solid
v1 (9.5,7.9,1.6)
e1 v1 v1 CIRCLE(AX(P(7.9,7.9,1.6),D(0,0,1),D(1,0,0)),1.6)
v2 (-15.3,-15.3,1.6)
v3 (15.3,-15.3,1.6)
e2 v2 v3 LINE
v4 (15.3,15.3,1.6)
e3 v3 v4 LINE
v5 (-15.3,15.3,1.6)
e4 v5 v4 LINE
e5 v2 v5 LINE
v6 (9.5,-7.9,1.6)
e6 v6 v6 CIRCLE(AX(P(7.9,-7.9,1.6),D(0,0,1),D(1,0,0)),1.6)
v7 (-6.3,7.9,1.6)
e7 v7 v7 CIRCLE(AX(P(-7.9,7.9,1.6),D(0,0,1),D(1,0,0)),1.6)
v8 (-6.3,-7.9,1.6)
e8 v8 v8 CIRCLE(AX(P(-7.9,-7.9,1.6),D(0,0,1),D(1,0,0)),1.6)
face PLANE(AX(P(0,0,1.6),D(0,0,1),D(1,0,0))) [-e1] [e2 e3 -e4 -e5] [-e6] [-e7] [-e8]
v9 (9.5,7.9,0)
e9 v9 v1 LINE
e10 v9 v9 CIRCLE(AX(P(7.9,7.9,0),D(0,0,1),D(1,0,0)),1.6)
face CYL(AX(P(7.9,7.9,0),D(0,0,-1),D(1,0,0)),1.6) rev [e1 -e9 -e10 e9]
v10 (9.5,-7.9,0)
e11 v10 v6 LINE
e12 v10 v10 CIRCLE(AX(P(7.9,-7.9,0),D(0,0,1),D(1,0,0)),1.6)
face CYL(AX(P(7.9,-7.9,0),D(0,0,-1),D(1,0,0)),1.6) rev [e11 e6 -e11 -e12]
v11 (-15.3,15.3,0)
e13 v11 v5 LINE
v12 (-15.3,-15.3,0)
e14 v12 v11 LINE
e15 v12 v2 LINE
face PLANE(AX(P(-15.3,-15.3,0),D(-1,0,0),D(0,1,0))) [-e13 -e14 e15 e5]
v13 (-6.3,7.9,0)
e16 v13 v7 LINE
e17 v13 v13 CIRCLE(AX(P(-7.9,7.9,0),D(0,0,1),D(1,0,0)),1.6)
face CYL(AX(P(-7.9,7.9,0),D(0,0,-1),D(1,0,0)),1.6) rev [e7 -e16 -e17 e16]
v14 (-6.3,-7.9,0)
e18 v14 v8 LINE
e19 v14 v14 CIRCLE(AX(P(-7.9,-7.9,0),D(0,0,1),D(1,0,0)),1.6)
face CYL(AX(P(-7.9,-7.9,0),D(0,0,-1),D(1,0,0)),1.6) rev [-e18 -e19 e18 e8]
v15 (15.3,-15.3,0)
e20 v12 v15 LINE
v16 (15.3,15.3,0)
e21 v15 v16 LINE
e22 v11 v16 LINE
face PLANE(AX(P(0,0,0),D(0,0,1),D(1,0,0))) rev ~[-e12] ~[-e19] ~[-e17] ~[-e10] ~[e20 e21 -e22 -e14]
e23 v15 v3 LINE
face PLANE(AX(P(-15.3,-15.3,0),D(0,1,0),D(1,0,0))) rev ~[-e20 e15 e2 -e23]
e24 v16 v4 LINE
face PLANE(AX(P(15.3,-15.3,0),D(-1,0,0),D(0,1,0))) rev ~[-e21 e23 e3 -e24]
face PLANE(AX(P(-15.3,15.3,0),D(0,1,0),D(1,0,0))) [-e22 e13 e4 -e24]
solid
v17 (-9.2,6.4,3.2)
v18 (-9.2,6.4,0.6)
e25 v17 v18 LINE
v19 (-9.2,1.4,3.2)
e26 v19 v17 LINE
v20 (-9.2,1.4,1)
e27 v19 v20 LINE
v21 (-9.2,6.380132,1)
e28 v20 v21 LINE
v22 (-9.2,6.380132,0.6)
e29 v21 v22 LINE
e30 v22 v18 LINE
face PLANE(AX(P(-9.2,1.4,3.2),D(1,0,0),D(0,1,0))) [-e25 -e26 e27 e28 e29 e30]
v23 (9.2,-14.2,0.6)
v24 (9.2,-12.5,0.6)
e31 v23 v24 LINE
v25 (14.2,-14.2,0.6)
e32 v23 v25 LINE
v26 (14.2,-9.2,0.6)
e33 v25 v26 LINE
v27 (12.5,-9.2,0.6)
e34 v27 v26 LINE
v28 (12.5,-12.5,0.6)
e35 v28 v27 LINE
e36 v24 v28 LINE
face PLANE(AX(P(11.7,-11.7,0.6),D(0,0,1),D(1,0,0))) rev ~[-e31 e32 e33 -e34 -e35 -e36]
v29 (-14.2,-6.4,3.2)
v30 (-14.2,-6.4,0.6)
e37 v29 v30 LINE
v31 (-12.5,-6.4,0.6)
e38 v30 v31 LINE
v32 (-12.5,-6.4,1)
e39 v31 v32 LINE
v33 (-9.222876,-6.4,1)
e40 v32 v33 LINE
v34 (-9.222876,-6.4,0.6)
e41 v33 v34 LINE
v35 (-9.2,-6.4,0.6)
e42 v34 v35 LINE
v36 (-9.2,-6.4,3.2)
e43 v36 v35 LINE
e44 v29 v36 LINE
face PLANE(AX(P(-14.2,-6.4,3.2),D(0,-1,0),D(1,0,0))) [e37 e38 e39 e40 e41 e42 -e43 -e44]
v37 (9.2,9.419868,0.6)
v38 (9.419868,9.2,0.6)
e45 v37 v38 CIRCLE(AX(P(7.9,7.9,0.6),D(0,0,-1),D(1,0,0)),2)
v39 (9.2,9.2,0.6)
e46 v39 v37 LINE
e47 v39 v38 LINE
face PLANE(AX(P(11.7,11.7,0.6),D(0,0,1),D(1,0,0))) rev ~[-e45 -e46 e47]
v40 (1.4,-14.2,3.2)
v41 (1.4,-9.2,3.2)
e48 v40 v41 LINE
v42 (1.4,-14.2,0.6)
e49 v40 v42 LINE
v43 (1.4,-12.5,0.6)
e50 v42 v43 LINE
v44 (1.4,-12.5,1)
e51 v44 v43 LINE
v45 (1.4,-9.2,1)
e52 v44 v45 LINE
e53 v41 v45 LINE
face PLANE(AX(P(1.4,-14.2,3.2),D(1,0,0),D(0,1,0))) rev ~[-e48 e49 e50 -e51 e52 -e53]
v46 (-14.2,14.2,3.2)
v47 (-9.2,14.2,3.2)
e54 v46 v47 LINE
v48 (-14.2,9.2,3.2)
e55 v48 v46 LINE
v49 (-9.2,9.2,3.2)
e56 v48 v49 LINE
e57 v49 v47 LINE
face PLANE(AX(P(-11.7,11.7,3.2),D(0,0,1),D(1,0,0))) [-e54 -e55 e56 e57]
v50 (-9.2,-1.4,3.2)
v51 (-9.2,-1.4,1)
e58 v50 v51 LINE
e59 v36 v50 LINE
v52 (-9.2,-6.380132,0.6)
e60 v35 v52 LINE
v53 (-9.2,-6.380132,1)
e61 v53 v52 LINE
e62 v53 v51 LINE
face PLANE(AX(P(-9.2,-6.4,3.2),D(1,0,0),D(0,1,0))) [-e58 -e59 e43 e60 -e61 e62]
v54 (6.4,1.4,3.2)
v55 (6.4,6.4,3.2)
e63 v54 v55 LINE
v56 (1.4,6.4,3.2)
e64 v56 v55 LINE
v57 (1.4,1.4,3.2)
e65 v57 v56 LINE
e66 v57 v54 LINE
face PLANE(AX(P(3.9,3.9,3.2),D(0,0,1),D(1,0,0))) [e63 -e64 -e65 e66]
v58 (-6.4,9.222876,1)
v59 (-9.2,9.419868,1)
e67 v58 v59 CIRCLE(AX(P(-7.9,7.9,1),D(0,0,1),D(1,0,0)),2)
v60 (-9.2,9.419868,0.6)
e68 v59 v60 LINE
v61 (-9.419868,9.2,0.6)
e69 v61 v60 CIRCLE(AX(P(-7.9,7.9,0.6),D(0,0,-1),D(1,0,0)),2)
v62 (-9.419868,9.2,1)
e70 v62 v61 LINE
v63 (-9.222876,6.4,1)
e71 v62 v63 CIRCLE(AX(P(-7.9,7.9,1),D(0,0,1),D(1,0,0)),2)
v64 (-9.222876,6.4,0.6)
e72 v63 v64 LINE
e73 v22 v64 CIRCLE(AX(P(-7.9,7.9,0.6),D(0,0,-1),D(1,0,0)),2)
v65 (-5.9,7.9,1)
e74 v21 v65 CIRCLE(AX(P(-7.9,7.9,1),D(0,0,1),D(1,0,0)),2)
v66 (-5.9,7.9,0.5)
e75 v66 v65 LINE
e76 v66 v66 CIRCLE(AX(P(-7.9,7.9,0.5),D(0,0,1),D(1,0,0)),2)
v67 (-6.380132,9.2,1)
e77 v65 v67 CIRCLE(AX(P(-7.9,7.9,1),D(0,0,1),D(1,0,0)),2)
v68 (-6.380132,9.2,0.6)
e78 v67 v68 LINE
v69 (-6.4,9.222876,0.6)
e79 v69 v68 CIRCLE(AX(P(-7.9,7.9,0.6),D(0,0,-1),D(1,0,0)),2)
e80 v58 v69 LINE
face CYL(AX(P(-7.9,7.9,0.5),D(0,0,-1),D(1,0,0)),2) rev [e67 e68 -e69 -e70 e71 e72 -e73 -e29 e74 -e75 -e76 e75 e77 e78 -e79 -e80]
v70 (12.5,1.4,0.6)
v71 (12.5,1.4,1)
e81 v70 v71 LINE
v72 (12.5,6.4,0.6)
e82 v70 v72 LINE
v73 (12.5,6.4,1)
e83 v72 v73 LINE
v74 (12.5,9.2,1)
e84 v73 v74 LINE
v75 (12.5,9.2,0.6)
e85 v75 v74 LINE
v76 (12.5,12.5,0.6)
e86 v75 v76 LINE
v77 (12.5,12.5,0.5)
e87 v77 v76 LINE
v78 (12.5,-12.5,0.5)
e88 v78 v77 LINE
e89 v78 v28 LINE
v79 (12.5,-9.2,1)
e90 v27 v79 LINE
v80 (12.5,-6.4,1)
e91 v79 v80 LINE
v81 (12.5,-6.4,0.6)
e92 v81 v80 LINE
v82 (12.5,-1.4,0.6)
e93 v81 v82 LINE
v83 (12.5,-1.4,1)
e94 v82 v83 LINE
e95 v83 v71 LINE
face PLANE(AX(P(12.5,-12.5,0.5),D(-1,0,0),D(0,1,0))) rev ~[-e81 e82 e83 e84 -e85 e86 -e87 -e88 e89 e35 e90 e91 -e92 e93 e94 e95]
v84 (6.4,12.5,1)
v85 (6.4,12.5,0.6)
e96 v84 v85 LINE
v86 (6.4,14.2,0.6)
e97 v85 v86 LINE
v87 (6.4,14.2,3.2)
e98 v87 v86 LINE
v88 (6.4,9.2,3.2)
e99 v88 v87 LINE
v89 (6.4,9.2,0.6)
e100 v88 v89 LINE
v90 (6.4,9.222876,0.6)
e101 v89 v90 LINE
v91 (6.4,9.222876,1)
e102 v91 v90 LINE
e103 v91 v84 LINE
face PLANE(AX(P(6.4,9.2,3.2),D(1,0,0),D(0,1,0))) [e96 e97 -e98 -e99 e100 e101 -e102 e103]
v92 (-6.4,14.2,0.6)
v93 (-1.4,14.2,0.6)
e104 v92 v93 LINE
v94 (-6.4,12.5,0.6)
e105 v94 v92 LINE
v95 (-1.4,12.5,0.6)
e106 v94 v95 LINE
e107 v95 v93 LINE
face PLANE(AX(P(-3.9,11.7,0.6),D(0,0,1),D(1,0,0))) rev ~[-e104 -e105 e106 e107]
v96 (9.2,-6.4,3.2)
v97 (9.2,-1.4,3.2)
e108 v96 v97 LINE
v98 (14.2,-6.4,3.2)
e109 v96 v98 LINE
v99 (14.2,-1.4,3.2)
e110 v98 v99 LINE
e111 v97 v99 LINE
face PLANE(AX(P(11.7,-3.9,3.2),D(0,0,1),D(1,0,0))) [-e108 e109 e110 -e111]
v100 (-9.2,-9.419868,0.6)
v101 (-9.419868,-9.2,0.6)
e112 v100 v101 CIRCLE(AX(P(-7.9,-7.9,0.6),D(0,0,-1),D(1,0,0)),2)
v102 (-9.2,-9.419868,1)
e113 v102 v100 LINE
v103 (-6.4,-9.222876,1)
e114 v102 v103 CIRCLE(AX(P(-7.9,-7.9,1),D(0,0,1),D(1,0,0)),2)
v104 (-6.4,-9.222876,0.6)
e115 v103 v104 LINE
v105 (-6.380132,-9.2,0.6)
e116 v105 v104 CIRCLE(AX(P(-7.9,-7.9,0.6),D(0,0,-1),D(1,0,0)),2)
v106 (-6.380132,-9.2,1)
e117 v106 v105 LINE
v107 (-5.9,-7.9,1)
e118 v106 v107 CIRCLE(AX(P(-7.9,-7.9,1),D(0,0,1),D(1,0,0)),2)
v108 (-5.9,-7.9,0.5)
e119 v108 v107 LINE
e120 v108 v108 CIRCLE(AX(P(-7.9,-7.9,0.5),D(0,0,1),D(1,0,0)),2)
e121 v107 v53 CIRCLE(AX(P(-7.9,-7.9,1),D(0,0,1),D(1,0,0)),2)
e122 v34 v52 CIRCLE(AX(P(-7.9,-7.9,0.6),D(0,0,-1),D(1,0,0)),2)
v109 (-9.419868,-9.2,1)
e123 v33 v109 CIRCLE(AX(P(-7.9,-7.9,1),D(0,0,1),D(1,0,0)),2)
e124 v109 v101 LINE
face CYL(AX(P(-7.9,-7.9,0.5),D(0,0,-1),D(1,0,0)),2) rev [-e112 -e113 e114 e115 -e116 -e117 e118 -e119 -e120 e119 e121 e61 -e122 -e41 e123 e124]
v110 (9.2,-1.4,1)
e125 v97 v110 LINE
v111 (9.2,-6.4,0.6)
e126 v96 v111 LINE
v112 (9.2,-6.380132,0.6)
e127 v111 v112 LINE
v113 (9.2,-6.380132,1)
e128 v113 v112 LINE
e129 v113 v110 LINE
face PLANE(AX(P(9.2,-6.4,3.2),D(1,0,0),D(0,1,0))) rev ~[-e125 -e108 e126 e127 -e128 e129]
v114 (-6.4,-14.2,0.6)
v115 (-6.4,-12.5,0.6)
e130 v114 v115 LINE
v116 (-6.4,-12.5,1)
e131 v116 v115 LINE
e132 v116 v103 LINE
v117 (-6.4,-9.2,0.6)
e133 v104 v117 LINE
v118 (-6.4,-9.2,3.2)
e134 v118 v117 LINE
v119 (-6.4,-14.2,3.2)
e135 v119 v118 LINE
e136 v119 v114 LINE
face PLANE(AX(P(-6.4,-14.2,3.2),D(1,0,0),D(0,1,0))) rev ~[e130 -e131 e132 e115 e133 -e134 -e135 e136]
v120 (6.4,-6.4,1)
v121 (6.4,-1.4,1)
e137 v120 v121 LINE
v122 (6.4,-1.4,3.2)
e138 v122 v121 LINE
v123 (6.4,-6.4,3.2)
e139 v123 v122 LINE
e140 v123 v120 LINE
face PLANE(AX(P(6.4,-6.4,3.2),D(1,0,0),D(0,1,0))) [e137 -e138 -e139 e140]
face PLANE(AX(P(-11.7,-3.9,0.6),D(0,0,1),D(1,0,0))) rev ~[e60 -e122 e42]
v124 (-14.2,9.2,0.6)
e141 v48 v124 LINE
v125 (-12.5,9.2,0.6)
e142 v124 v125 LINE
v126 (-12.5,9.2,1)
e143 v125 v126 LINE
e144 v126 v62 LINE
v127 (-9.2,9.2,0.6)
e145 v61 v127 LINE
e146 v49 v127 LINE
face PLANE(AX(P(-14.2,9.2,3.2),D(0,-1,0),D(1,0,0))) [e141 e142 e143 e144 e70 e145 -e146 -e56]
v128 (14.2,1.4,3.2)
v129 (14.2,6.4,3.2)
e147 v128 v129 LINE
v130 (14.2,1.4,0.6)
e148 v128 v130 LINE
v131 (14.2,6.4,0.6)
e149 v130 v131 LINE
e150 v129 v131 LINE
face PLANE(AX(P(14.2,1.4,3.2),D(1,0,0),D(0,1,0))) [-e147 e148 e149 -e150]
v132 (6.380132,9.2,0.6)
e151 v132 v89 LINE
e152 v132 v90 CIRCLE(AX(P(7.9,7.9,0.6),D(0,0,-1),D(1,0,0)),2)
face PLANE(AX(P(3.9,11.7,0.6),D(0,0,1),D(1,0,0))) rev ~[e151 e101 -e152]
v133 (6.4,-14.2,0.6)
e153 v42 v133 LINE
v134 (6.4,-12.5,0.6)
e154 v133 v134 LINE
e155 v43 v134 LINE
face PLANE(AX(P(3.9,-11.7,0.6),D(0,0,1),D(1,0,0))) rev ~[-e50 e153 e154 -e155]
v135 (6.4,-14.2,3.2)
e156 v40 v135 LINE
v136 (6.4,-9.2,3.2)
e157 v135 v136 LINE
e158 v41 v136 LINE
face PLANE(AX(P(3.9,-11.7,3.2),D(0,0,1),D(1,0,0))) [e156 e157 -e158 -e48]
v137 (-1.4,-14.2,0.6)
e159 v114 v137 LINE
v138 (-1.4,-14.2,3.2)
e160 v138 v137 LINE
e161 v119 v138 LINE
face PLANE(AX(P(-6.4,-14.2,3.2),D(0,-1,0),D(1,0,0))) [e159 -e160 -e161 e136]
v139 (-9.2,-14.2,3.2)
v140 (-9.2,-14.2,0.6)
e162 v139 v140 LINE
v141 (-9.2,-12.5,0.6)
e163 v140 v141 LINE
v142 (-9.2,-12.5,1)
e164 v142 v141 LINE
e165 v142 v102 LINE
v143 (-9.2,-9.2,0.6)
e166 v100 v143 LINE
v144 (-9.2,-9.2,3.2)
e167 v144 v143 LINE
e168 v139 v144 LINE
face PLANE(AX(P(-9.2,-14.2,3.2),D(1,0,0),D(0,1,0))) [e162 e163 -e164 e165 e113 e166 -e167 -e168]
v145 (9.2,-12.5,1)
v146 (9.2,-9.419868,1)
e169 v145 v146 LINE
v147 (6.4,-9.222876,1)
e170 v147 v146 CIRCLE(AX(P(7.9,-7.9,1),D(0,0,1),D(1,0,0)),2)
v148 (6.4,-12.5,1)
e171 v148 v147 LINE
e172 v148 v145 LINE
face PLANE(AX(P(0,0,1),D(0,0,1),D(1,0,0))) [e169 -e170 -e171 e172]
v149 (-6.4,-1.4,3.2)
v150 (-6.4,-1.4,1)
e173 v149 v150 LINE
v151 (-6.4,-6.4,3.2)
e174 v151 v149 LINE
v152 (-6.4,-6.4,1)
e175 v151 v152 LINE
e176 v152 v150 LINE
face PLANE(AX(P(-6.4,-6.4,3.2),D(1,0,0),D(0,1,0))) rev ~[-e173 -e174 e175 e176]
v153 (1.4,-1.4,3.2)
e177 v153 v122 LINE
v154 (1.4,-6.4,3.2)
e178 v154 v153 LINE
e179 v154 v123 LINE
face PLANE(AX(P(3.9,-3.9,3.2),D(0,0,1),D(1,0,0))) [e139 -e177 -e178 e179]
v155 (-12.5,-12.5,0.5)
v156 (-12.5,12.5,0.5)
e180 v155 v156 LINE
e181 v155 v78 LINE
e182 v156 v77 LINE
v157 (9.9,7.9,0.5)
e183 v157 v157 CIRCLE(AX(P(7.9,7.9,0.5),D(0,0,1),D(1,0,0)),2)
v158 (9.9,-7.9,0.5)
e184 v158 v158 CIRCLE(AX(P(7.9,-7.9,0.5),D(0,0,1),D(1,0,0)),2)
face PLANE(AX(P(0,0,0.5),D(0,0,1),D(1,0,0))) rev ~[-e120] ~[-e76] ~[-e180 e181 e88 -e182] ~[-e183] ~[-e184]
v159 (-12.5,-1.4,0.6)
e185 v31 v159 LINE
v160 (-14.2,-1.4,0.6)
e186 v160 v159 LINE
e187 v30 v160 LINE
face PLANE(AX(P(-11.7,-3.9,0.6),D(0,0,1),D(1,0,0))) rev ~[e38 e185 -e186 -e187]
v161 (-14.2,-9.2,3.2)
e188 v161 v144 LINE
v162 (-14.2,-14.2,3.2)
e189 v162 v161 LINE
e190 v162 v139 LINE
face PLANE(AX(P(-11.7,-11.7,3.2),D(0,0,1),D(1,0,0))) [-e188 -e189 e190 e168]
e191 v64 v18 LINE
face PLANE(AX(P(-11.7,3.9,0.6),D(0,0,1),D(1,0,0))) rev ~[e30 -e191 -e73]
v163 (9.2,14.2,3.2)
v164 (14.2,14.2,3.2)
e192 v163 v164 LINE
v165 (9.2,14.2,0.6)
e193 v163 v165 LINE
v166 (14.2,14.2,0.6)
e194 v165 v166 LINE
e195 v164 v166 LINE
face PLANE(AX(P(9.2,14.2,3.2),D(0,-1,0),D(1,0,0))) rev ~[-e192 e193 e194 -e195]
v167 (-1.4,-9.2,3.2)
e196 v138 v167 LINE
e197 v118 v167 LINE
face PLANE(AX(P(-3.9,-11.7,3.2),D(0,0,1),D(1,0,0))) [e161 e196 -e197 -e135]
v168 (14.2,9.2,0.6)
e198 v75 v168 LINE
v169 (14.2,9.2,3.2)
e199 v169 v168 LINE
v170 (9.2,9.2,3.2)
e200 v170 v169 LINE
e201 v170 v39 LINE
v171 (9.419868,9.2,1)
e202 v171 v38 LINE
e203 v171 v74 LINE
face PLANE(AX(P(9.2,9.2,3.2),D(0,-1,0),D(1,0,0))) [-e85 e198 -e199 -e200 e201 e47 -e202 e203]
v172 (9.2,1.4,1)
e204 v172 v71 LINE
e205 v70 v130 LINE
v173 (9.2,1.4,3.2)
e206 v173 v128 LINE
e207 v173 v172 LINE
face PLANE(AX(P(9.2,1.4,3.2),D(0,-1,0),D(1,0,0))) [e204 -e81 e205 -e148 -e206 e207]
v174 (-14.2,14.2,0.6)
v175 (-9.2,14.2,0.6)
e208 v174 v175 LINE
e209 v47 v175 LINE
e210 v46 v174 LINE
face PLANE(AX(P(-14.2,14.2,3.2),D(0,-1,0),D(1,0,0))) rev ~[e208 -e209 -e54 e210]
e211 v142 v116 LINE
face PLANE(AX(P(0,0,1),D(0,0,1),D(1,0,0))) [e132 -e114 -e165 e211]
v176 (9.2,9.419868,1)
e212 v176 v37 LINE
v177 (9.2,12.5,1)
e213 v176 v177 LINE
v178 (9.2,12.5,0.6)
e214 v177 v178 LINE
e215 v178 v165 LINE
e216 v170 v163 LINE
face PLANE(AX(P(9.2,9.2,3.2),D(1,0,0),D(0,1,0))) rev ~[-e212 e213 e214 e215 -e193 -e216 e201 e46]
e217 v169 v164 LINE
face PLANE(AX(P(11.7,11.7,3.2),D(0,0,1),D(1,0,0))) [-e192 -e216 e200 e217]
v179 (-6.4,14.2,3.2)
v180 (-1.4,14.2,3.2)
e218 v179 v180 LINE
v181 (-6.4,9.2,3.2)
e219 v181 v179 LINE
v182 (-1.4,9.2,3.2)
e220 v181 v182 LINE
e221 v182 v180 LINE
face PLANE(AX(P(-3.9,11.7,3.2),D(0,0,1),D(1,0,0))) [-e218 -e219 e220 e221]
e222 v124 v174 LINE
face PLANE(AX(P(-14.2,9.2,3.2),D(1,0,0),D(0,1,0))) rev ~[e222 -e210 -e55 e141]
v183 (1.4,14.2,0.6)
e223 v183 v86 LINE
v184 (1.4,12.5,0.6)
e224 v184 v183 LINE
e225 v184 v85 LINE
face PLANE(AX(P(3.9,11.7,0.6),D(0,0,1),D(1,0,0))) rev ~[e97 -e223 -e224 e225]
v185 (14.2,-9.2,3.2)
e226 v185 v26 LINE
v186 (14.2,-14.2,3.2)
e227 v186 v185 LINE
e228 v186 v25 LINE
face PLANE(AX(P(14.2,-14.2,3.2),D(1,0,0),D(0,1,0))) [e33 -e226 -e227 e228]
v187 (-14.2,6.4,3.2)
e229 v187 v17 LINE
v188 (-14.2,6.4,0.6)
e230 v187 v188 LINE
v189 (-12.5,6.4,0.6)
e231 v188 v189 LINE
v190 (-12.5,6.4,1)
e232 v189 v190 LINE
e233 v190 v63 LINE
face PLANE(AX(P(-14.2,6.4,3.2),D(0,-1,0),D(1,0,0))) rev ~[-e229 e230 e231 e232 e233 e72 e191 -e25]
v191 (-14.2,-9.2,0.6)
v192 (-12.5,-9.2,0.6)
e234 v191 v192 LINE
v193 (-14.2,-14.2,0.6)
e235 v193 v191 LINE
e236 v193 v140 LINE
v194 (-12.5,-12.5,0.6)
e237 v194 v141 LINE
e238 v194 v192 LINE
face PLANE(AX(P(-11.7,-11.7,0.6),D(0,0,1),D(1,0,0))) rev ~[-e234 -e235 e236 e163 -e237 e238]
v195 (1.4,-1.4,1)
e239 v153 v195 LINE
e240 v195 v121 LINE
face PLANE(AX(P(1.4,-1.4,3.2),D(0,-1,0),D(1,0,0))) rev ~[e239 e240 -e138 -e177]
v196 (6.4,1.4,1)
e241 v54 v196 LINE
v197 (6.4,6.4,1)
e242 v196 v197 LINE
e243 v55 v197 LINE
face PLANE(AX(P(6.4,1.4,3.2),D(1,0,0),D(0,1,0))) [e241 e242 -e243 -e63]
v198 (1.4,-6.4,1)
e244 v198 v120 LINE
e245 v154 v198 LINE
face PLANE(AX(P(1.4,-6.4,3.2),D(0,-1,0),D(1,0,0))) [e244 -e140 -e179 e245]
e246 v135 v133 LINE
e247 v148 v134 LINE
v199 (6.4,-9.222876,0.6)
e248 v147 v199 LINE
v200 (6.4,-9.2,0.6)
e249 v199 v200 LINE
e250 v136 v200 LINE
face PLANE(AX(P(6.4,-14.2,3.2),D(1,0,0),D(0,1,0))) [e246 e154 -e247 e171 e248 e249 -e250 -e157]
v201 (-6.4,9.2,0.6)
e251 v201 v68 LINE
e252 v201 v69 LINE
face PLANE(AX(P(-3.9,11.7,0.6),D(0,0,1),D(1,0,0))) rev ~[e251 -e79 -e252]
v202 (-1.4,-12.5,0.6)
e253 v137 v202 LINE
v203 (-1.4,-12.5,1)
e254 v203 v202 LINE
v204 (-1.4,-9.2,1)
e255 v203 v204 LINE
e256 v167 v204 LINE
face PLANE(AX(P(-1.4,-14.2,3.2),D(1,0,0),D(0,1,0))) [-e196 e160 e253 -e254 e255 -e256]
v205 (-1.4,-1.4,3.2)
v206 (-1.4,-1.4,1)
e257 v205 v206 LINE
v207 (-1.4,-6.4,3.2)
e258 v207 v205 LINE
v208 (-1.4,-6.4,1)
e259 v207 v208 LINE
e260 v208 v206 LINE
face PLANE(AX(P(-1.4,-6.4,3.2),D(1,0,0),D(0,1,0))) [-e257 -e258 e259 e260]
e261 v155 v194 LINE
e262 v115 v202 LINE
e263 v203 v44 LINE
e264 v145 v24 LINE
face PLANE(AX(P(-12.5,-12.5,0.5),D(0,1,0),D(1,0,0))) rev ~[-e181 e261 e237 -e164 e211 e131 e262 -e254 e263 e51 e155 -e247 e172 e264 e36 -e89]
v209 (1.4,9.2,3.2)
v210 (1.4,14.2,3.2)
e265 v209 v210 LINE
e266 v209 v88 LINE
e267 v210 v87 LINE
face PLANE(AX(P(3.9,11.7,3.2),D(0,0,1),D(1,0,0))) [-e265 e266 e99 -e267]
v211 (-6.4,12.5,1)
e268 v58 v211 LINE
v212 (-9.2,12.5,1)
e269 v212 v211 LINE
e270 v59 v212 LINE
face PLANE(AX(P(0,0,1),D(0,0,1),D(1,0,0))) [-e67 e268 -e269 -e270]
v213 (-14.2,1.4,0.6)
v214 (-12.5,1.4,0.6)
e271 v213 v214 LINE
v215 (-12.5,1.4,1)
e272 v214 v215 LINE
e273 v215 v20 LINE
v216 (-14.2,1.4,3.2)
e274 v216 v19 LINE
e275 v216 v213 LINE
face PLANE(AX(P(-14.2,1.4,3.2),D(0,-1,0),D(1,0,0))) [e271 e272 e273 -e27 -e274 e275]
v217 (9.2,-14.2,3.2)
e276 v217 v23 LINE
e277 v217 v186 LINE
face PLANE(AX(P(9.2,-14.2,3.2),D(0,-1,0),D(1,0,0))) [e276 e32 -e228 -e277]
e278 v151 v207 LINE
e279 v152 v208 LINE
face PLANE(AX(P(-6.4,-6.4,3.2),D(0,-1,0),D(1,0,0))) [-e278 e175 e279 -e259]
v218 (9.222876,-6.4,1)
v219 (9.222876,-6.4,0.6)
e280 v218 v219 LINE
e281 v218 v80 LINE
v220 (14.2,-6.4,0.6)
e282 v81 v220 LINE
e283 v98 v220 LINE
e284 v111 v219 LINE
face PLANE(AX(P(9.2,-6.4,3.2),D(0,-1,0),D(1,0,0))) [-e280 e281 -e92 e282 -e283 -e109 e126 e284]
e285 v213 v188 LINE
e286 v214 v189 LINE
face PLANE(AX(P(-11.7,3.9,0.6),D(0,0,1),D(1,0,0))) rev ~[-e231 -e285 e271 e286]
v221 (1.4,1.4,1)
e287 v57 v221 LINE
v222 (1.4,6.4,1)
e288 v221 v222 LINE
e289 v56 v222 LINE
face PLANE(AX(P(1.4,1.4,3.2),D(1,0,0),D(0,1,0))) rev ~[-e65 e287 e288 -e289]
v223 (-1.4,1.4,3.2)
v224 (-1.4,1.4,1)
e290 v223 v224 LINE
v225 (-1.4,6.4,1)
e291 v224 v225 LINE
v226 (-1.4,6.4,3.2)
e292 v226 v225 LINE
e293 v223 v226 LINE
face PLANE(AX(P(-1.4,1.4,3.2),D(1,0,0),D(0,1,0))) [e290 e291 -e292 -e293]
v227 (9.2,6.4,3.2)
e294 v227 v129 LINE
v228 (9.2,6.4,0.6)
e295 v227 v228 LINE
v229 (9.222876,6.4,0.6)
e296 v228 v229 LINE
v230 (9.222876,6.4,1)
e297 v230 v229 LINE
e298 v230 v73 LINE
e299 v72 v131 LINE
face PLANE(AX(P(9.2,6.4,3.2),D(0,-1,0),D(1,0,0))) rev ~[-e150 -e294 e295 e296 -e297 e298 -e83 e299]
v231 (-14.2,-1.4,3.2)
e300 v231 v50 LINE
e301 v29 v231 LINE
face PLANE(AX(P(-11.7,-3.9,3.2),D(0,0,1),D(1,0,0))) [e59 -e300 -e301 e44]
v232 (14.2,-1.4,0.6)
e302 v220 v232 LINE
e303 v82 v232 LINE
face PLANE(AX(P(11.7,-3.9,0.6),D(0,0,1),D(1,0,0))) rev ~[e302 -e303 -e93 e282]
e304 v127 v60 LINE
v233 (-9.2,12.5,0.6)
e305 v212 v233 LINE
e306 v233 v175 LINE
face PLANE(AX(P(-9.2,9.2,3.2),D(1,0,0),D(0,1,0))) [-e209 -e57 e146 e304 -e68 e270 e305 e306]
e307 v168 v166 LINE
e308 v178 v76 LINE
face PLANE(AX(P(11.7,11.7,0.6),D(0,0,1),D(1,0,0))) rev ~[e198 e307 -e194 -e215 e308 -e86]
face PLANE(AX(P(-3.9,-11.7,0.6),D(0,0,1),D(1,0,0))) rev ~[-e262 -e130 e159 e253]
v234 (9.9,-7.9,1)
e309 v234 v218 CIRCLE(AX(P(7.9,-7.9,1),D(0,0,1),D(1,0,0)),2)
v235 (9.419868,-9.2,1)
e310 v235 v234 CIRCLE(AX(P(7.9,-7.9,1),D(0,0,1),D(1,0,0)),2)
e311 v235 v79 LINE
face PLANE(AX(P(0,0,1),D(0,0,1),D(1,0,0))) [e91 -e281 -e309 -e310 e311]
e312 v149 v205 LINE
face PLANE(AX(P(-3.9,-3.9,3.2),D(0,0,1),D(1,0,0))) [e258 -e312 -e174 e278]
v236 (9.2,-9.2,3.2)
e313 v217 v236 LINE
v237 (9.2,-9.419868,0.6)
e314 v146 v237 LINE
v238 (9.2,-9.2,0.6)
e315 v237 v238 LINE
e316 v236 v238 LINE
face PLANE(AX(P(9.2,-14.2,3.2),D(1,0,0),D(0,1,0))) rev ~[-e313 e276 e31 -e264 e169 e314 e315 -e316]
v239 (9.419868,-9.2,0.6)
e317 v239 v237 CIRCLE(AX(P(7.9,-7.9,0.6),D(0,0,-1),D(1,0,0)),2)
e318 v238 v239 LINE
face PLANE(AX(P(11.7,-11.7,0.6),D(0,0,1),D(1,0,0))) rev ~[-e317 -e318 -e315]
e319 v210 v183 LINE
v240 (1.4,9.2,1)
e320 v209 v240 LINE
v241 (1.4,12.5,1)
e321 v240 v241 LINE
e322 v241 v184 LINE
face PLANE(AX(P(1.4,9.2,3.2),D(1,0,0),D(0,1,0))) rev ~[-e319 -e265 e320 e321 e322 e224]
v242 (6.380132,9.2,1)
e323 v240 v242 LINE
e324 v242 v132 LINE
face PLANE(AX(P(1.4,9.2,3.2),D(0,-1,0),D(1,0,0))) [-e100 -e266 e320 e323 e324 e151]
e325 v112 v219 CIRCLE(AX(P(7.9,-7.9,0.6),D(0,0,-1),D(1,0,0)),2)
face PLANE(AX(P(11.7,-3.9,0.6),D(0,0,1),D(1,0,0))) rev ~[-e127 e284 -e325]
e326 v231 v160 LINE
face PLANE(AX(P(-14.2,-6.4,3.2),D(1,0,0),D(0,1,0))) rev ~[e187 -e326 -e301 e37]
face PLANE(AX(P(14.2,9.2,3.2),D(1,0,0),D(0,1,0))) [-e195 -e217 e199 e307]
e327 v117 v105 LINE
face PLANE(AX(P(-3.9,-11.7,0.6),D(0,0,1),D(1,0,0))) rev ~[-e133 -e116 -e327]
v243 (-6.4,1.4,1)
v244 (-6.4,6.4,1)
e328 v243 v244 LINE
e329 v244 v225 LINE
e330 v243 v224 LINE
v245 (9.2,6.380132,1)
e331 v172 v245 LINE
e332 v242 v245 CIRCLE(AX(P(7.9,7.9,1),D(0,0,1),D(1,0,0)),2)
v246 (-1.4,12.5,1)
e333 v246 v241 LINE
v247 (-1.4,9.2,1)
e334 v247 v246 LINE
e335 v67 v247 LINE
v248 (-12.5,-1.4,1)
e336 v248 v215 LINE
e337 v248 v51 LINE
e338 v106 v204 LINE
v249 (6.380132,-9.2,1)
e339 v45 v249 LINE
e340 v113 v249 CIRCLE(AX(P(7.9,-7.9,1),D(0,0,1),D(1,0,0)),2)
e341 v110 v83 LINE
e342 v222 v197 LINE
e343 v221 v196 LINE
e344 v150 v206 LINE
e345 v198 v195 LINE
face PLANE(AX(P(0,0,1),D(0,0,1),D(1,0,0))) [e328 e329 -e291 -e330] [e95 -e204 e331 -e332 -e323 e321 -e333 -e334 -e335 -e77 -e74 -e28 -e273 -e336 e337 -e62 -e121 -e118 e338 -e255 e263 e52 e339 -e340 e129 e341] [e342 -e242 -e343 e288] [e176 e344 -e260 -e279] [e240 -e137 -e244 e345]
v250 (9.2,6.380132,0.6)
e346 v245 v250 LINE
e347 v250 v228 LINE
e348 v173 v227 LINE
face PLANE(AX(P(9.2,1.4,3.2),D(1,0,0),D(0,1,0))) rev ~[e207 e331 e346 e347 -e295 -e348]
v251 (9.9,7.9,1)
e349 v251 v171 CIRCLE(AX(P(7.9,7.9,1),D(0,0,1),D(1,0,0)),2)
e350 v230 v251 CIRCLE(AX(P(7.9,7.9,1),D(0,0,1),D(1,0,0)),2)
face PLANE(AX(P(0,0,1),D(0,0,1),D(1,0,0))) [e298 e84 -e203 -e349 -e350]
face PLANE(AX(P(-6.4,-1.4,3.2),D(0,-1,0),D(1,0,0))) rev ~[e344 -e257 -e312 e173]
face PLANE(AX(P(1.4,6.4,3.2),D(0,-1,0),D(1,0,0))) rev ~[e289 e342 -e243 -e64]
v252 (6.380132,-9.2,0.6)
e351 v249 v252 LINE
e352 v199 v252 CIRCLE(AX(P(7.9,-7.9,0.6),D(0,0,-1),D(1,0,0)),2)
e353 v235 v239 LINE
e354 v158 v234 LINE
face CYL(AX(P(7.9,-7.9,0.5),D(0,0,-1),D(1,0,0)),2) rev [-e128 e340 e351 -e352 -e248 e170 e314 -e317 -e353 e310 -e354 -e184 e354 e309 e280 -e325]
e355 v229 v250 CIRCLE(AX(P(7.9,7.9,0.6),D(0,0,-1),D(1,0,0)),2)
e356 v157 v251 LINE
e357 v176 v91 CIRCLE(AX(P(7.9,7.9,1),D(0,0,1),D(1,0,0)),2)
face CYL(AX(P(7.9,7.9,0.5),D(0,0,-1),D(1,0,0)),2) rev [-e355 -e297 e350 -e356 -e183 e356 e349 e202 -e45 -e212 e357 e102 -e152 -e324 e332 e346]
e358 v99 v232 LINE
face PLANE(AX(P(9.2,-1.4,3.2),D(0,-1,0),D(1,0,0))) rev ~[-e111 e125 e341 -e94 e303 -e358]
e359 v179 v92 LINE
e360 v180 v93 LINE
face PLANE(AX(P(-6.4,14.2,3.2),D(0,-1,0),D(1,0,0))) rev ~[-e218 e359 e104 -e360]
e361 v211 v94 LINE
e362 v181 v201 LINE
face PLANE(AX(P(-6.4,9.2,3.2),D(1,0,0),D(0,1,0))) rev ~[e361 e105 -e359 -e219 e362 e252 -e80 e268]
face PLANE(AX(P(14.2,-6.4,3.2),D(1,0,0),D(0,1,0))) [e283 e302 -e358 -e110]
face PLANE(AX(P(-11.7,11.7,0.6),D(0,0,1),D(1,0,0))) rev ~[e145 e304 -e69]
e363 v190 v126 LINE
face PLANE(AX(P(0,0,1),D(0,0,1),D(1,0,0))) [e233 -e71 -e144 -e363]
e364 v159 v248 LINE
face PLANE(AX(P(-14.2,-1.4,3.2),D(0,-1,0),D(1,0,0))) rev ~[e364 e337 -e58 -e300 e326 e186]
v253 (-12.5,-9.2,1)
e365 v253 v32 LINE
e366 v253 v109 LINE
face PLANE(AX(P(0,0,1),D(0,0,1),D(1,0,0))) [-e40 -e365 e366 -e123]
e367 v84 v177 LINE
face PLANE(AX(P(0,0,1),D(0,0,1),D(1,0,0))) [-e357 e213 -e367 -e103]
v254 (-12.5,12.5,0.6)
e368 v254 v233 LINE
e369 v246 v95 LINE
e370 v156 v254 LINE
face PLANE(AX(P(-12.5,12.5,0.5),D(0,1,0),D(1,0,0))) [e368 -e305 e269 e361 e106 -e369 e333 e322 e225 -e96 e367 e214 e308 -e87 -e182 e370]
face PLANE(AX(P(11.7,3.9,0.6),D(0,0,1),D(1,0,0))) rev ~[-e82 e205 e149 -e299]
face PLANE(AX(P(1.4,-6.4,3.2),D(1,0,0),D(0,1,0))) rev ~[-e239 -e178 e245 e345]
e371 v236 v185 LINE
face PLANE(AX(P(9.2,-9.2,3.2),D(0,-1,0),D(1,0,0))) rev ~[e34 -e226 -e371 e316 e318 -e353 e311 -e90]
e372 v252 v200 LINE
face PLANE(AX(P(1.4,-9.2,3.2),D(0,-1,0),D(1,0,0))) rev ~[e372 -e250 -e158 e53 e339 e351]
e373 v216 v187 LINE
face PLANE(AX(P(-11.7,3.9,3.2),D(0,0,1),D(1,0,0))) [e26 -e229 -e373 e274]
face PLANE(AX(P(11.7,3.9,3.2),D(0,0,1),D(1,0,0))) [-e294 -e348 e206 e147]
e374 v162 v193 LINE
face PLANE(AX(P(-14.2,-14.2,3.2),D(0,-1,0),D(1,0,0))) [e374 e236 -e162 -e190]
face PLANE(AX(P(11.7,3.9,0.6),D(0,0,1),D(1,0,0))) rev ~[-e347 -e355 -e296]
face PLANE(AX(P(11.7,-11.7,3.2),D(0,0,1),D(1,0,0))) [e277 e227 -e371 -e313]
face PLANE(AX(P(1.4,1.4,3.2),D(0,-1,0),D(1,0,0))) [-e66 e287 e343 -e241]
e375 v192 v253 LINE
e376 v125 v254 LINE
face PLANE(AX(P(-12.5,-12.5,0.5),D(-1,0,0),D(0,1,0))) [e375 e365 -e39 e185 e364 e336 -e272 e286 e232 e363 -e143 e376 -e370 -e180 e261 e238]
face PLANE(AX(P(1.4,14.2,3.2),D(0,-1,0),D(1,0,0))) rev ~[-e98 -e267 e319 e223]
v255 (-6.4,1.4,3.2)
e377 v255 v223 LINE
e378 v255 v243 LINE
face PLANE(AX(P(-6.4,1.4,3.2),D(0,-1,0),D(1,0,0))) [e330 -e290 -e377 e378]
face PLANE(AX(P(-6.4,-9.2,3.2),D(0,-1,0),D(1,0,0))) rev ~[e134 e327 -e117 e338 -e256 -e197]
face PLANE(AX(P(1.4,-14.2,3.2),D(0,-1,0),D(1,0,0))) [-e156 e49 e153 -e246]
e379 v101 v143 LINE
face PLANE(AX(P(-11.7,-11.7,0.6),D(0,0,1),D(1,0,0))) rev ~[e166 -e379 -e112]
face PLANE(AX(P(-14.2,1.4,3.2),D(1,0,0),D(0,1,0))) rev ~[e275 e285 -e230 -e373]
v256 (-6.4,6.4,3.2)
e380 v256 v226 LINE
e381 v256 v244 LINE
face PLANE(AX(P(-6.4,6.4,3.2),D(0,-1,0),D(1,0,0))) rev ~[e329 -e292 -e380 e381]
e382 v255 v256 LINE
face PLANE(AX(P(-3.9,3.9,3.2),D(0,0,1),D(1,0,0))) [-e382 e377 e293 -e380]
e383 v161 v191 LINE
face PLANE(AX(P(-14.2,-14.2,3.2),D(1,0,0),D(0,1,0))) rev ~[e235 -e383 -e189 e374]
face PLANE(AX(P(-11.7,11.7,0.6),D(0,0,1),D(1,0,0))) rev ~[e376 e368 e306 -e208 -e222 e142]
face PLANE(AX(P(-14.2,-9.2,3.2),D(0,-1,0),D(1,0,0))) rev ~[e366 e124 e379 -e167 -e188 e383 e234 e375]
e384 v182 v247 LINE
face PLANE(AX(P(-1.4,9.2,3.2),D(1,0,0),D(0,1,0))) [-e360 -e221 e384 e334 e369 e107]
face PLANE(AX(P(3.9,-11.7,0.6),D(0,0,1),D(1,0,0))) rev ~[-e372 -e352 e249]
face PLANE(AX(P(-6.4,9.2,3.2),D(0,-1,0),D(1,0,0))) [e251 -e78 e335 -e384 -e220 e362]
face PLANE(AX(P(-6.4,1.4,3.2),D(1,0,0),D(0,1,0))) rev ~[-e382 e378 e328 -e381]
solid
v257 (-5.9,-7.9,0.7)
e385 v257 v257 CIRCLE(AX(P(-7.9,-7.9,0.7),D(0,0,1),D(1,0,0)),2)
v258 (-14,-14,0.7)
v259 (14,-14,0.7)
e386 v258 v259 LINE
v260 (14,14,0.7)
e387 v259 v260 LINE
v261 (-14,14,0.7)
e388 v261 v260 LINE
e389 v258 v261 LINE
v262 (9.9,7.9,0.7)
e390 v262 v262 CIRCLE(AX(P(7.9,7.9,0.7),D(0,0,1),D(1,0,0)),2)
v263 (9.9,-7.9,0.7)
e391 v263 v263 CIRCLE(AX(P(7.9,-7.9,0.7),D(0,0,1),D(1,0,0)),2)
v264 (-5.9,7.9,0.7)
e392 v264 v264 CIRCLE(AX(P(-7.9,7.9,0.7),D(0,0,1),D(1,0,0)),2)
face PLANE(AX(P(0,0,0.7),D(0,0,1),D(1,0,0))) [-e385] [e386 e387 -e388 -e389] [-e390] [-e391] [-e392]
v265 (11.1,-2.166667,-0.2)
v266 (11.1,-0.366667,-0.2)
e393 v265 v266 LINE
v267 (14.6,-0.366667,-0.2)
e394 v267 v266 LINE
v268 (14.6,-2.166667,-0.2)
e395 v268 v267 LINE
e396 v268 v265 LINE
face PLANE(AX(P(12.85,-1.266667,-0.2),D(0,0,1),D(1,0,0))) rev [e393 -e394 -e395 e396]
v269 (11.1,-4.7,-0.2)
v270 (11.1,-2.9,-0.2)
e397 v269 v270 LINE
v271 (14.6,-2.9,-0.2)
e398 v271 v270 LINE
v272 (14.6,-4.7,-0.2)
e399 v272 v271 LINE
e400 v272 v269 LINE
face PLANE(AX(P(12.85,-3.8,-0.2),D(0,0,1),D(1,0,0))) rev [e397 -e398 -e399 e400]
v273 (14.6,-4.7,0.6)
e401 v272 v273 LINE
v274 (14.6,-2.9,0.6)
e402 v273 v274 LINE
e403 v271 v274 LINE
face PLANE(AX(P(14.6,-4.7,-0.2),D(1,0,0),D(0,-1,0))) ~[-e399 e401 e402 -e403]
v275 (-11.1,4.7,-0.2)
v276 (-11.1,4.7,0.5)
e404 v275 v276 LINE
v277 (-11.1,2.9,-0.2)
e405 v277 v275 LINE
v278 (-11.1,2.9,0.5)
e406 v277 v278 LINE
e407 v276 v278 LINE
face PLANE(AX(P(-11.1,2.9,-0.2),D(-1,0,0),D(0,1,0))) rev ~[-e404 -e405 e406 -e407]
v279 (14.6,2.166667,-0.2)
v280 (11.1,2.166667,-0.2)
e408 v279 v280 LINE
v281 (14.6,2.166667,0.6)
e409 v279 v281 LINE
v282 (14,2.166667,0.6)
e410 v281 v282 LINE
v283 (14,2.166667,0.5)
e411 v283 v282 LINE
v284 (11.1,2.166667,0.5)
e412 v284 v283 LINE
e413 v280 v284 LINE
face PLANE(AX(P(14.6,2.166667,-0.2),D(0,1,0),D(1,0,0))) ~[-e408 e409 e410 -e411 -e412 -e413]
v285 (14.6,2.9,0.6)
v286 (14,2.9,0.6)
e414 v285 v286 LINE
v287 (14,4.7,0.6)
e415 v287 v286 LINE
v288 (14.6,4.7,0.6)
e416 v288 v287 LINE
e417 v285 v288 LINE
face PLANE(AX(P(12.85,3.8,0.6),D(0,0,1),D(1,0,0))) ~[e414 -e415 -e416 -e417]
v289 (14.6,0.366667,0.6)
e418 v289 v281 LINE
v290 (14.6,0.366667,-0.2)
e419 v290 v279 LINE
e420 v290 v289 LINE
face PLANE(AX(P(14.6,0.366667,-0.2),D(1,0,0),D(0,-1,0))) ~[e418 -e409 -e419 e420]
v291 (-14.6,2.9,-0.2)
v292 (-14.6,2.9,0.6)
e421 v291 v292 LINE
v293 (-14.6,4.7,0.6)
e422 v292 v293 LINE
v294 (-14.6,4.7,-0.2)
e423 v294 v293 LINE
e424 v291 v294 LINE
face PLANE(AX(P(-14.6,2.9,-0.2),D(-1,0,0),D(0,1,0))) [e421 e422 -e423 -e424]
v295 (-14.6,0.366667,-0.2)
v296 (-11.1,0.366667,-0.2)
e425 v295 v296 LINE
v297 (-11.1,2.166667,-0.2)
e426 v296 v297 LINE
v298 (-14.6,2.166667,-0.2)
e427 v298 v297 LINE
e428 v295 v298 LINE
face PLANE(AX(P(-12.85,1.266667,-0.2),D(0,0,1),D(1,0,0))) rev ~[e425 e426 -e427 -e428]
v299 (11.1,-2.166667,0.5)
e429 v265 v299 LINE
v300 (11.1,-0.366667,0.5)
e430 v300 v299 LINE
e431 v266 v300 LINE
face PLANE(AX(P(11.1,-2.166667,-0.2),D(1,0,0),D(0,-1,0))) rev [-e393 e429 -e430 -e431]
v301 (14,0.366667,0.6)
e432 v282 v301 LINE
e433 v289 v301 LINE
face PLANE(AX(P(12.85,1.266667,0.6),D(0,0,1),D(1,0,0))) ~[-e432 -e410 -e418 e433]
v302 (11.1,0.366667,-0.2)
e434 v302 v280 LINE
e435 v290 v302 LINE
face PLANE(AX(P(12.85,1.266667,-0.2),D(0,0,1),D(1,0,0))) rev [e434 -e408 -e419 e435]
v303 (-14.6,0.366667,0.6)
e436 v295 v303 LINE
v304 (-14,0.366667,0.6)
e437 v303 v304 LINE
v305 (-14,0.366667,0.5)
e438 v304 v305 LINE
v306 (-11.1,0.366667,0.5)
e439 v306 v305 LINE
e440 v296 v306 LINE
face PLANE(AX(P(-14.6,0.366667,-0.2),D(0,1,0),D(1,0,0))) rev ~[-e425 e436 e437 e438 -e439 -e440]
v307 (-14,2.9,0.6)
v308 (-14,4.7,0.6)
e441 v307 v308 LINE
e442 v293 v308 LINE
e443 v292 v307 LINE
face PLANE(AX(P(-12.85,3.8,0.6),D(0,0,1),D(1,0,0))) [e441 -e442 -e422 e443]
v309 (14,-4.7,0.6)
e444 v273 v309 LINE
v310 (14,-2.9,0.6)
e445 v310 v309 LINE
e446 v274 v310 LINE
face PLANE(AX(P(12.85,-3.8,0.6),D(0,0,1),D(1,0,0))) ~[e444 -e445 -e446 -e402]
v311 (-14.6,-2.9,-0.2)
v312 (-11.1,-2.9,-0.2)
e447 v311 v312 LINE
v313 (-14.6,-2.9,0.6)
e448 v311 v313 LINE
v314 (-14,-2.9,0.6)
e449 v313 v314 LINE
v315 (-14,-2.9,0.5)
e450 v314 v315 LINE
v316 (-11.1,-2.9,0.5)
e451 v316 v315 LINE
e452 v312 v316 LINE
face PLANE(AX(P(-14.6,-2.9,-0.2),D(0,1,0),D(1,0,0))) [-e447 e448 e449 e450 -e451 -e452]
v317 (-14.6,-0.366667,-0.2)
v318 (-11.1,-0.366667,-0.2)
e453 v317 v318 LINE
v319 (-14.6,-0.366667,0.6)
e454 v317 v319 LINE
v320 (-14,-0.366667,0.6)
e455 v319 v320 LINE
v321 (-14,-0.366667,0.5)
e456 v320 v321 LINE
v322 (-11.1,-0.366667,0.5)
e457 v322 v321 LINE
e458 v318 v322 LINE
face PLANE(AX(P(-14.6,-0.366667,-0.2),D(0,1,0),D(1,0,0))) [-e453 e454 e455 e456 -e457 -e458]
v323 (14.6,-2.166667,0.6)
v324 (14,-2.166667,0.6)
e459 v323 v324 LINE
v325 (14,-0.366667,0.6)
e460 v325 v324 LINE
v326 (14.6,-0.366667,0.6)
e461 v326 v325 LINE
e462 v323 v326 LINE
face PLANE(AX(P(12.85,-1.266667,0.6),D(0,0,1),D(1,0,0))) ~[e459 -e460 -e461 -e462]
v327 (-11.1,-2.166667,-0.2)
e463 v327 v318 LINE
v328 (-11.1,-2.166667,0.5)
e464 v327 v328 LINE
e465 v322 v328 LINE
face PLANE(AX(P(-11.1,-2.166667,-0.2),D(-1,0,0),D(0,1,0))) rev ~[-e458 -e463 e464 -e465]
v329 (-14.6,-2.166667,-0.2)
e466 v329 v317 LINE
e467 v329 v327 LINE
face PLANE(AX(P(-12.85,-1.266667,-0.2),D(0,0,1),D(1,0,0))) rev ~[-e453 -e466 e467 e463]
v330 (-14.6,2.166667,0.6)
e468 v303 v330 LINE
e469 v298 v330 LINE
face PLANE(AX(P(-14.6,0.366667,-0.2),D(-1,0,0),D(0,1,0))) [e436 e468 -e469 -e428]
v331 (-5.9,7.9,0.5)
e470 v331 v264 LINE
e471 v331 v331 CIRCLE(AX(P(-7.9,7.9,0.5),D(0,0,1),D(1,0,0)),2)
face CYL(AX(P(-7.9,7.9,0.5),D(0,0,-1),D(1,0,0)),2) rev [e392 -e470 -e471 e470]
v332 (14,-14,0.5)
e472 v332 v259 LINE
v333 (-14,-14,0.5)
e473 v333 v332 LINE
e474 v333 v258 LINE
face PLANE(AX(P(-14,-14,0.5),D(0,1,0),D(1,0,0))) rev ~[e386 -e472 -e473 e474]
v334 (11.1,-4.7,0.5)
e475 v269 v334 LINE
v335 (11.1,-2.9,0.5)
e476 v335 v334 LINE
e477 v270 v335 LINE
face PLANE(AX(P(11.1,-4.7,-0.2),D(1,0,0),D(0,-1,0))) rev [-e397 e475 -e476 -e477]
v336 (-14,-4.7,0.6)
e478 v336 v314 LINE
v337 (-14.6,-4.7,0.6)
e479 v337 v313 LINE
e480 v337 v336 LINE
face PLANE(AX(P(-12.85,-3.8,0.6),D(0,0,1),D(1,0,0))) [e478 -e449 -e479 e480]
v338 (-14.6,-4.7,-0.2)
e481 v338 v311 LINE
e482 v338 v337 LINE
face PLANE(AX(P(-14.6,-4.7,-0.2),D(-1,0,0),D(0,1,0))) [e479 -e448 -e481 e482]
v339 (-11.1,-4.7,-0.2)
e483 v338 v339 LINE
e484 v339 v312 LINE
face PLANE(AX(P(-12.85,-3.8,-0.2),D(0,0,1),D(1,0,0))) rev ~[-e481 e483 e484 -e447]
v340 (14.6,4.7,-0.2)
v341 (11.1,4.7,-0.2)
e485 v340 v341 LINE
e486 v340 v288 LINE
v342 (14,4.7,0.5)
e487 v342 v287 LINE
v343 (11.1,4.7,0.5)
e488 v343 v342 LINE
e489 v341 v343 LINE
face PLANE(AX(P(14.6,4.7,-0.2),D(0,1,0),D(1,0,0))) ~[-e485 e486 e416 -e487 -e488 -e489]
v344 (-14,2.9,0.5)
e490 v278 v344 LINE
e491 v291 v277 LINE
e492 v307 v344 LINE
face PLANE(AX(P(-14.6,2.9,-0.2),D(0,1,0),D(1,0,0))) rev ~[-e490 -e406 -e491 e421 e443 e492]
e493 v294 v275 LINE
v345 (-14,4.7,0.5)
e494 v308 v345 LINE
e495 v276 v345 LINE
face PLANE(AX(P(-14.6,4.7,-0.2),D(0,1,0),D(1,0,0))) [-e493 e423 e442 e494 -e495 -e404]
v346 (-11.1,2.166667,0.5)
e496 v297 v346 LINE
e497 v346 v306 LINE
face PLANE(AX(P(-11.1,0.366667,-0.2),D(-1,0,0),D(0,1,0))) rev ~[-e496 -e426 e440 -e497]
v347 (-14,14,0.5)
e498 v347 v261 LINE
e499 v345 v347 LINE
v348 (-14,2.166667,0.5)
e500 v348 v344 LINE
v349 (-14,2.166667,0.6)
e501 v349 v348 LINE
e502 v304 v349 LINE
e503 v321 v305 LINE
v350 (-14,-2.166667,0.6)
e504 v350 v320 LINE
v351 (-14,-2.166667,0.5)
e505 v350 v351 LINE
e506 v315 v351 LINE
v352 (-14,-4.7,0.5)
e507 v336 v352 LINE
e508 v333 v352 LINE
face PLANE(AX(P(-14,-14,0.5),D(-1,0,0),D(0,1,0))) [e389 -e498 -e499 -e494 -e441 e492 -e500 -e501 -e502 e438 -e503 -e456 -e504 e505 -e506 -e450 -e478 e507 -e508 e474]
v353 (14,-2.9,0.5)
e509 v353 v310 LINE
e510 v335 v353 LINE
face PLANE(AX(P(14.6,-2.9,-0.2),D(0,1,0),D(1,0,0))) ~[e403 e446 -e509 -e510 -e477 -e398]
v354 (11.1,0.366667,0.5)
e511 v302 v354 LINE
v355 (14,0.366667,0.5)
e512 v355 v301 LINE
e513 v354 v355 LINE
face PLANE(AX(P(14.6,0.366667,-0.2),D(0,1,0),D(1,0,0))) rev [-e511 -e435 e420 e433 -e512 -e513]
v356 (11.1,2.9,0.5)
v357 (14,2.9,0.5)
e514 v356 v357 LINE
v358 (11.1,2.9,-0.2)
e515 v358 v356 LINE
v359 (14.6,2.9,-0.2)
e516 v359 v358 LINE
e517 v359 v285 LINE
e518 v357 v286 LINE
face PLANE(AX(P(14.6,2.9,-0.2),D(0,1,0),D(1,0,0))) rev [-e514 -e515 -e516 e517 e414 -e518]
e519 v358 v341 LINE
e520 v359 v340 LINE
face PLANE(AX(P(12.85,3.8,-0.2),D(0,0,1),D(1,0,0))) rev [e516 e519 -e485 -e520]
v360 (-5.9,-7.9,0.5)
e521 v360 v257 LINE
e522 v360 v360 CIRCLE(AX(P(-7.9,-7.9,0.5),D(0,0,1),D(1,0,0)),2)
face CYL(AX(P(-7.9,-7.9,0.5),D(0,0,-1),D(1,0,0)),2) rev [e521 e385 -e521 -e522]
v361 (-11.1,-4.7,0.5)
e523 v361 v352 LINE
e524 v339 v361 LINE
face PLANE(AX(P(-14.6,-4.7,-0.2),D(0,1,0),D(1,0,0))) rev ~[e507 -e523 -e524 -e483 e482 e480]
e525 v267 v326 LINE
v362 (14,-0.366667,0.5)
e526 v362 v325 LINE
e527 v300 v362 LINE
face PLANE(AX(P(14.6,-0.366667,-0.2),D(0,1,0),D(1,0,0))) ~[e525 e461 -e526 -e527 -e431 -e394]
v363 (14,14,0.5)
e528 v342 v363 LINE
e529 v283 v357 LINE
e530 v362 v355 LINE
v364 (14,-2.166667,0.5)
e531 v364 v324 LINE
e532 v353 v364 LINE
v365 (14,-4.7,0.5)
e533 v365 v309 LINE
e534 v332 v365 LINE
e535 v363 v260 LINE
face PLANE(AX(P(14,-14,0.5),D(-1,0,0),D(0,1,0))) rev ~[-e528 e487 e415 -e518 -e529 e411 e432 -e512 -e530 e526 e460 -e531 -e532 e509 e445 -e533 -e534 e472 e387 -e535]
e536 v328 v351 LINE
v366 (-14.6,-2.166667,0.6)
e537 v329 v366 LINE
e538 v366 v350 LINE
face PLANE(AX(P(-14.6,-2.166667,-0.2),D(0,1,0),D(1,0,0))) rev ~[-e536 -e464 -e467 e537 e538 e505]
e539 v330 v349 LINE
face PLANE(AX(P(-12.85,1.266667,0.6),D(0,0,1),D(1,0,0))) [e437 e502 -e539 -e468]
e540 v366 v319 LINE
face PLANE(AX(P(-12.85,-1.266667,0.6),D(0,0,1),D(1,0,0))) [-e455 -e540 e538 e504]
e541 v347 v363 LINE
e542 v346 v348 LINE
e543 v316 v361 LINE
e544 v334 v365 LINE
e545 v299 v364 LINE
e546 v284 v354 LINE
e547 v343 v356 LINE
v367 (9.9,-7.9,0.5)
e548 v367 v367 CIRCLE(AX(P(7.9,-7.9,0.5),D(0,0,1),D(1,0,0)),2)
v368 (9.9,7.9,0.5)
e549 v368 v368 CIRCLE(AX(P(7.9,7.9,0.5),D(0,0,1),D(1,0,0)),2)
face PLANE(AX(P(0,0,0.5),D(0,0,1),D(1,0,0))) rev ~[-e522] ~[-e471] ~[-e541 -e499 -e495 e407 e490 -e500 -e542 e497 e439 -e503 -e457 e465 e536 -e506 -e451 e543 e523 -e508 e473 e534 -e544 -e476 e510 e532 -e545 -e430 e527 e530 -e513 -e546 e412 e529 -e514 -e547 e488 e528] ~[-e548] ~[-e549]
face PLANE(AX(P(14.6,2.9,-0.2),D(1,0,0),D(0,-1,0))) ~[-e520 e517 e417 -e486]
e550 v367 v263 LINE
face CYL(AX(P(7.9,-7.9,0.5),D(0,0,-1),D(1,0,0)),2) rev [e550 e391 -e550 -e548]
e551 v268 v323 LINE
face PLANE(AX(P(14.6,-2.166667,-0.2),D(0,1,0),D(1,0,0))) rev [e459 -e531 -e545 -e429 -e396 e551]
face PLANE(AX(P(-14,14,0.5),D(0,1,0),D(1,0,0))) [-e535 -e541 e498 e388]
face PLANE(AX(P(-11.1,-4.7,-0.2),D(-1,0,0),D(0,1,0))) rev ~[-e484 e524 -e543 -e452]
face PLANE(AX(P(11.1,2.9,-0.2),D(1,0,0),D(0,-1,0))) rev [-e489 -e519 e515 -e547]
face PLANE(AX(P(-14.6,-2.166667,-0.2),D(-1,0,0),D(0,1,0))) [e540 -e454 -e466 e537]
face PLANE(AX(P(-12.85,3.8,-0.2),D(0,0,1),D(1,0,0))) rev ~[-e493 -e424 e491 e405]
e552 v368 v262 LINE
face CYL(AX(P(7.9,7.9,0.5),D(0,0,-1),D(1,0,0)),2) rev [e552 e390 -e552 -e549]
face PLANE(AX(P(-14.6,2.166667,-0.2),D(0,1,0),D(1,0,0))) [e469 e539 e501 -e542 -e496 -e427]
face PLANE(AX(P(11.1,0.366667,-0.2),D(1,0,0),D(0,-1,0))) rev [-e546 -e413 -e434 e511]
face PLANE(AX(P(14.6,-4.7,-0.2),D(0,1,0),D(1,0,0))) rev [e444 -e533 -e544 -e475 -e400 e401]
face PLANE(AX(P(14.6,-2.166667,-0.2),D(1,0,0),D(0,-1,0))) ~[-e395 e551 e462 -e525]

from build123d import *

# Parameters (mm, degrees)
SKETCH_W                        = 30.6
SKETCH_H                        = 30.6
SKETCH_R                        = 1.6
PAD_DEPTH                       = 1.6
SKETCH004_W                     = 28
SKETCH004_H                     = 28
SKETCH004_R                     = 2
PAD004_DEPTH                    = 0.2
SKETCH005_W                     = 3.5
SKETCH005_H                     = 1.8
PAD005_DEPTH                    = 0.8
SKETCH005_LINEARPATTERN003_2_W  = 3.5
SKETCH005_LINEARPATTERN003_2_H  = 1.8
PAD005_LINEARPATTERN003_2_DEPTH = 0.8
SKETCH005_LINEARPATTERN003_3_W  = 3.5
SKETCH005_LINEARPATTERN003_3_H  = 1.8
PAD005_LINEARPATTERN003_3_DEPTH = 0.8
SKETCH005_LINEARPATTERN003_4_W  = 3.5
SKETCH005_LINEARPATTERN003_4_H  = 1.8
PAD005_LINEARPATTERN003_4_DEPTH = 0.8
SKETCH008_W                     = 25
SKETCH008_H                     = 25
SKETCH008_R                     = 2
PAD007_DEPTH                    = 0.5
SKETCH009_W                     = 5
SKETCH009_H                     = 5
PAD008_DEPTH                    = 2.6
SKETCH009_LINEARPATTERN008_2_W  = 5
SKETCH009_LINEARPATTERN008_2_H  = 5
PAD008_LINEARPATTERN008_2_DEPTH = 2.6
SKETCH009_LINEARPATTERN008_3_W  = 5
SKETCH009_LINEARPATTERN008_3_H  = 5
PAD008_LINEARPATTERN008_3_DEPTH = 2.6
SKETCH009_LINEARPATTERN008_4_W  = 5
SKETCH009_LINEARPATTERN008_4_H  = 5
PAD008_LINEARPATTERN008_4_DEPTH = 2.6
LINEARPATTERN007_COUNT          = 4
LINEARPATTERN007_PITCH          = 7.8


with BuildPart() as pcb:
    # Sketch → Pad (new body)
    with BuildSketch(Plane.XY):
        Rectangle(SKETCH_W, SKETCH_H)
        with Locations((-7.9, 7.9)):
            Circle(SKETCH_R, mode=Mode.SUBTRACT)
        with Locations((7.9, 7.9)):
            Circle(SKETCH_R, mode=Mode.SUBTRACT)
        with Locations((7.9, -7.9)):
            Circle(SKETCH_R, mode=Mode.SUBTRACT)
        with Locations((-7.9, -7.9)):
            Circle(SKETCH_R, mode=Mode.SUBTRACT)
    extrude(amount=PAD_DEPTH)


with BuildPart() as electrical:
    # Sketch004 → Pad004 (new body)
    with BuildSketch(Plane.XY.offset(0.5)):
        Rectangle(SKETCH004_W, SKETCH004_H)
        with Locations((-7.9, 7.9)):
            Circle(SKETCH004_R, mode=Mode.SUBTRACT)
        with Locations((7.9, 7.9)):
            Circle(SKETCH004_R, mode=Mode.SUBTRACT)
        with Locations((7.9, -7.9)):
            Circle(SKETCH004_R, mode=Mode.SUBTRACT)
        with Locations((-7.9, -7.9)):
            Circle(SKETCH004_R, mode=Mode.SUBTRACT)
    extrude(amount=PAD004_DEPTH)

    # Sketch005 → Pad005 (join)
    with BuildSketch(Plane.XY.offset(-0.2)):
        with Locations((-12.85, -3.8)):
            Rectangle(SKETCH005_W, SKETCH005_H)
    pad005 = extrude(amount=PAD005_DEPTH)

    # Sketch005 LinearPattern003 2 → Pad005 LinearPattern003 2 (add)
    with BuildSketch(Plane(origin=(0, 2.533333, -0.2), x_dir=(1, 0, 0), z_dir=(0, 0, 1))):
        with Locations((-12.85, -3.8)):
            Rectangle(SKETCH005_LINEARPATTERN003_2_W, SKETCH005_LINEARPATTERN003_2_H)
    pad005_linearpattern003_2 = extrude(amount=PAD005_LINEARPATTERN003_2_DEPTH)

    # Sketch005 LinearPattern003 3 → Pad005 LinearPattern003 3 (add)
    with BuildSketch(Plane(origin=(0, 5.066667, -0.2), x_dir=(1, 0, 0), z_dir=(0, 0, 1))):
        with Locations((-12.85, -3.8)):
            Rectangle(SKETCH005_LINEARPATTERN003_3_W, SKETCH005_LINEARPATTERN003_3_H)
    pad005_linearpattern003_3 = extrude(amount=PAD005_LINEARPATTERN003_3_DEPTH)

    # Sketch005 LinearPattern003 4 → Pad005 LinearPattern003 4 (add)
    with BuildSketch(Plane(origin=(0, 7.6, -0.2), x_dir=(1, 0, 0), z_dir=(0, 0, 1))):
        with Locations((-12.85, -3.8)):
            Rectangle(SKETCH005_LINEARPATTERN003_4_W, SKETCH005_LINEARPATTERN003_4_H)
    pad005_linearpattern003_4 = extrude(amount=PAD005_LINEARPATTERN003_4_DEPTH)

    # Mirrored001: Pad005, Pad005 LinearPattern003 2, Pad005 LinearPattern003 3, Pad005 LinearPattern003 4 across YZ
    add(pad005.mirror(Plane.YZ))
    add(pad005_linearpattern003_2.mirror(Plane.YZ))
    add(pad005_linearpattern003_3.mirror(Plane.YZ))
    add(pad005_linearpattern003_4.mirror(Plane.YZ))


with BuildPart() as leds:
    # Sketch008 → Pad007 (new body)
    with BuildSketch(Plane.XY.offset(0.5)):
        Rectangle(SKETCH008_W, SKETCH008_H)
        with Locations((-7.9, 7.9)):
            Circle(SKETCH008_R, mode=Mode.SUBTRACT)
        with Locations((7.9, 7.9)):
            Circle(SKETCH008_R, mode=Mode.SUBTRACT)
        with Locations((7.9, -7.9)):
            Circle(SKETCH008_R, mode=Mode.SUBTRACT)
        with Locations((-7.9, -7.9)):
            Circle(SKETCH008_R, mode=Mode.SUBTRACT)
    extrude(amount=PAD007_DEPTH)

    # Sketch009 → Pad008 (join)
    with BuildSketch(Plane.XY.offset(3.2)):
        with Locations((-11.7, -11.7)):
            Rectangle(SKETCH009_W, SKETCH009_H)
    pad008 = extrude(amount=-PAD008_DEPTH)

    # Sketch009 LinearPattern008 2 → Pad008 LinearPattern008 2 (add)
    with BuildSketch(Plane(origin=(7.8, 0, 3.2), x_dir=(1, 0, 0), z_dir=(0, 0, 1))):
        with Locations((-11.7, -11.7)):
            Rectangle(SKETCH009_LINEARPATTERN008_2_W, SKETCH009_LINEARPATTERN008_2_H)
    pad008_linearpattern008_2 = extrude(amount=-PAD008_LINEARPATTERN008_2_DEPTH)

    # Sketch009 LinearPattern008 3 → Pad008 LinearPattern008 3 (add)
    with BuildSketch(Plane(origin=(15.6, 0, 3.2), x_dir=(1, 0, 0), z_dir=(0, 0, 1))):
        with Locations((-11.7, -11.7)):
            Rectangle(SKETCH009_LINEARPATTERN008_3_W, SKETCH009_LINEARPATTERN008_3_H)
    pad008_linearpattern008_3 = extrude(amount=-PAD008_LINEARPATTERN008_3_DEPTH)

    # Sketch009 LinearPattern008 4 → Pad008 LinearPattern008 4 (add)
    with BuildSketch(Plane(origin=(23.4, 0, 3.2), x_dir=(1, 0, 0), z_dir=(0, 0, 1))):
        with Locations((-11.7, -11.7)):
            Rectangle(SKETCH009_LINEARPATTERN008_4_W, SKETCH009_LINEARPATTERN008_4_H)
    pad008_linearpattern008_4 = extrude(amount=-PAD008_LINEARPATTERN008_4_DEPTH)

    # LinearPattern007: Pad008, Pad008 LinearPattern008 2, Pad008 LinearPattern008 3, Pad008 LinearPattern008 4 ×4
    with Locations(*[(0, i * LINEARPATTERN007_PITCH, 0) for i in range(1, LINEARPATTERN007_COUNT)]):
        add(pad008)
        add(pad008_linearpattern008_2)
        add(pad008_linearpattern008_3)
        add(pad008_linearpattern008_4)


solid = Compound([pcb.part, electrical.part, leds.part])
